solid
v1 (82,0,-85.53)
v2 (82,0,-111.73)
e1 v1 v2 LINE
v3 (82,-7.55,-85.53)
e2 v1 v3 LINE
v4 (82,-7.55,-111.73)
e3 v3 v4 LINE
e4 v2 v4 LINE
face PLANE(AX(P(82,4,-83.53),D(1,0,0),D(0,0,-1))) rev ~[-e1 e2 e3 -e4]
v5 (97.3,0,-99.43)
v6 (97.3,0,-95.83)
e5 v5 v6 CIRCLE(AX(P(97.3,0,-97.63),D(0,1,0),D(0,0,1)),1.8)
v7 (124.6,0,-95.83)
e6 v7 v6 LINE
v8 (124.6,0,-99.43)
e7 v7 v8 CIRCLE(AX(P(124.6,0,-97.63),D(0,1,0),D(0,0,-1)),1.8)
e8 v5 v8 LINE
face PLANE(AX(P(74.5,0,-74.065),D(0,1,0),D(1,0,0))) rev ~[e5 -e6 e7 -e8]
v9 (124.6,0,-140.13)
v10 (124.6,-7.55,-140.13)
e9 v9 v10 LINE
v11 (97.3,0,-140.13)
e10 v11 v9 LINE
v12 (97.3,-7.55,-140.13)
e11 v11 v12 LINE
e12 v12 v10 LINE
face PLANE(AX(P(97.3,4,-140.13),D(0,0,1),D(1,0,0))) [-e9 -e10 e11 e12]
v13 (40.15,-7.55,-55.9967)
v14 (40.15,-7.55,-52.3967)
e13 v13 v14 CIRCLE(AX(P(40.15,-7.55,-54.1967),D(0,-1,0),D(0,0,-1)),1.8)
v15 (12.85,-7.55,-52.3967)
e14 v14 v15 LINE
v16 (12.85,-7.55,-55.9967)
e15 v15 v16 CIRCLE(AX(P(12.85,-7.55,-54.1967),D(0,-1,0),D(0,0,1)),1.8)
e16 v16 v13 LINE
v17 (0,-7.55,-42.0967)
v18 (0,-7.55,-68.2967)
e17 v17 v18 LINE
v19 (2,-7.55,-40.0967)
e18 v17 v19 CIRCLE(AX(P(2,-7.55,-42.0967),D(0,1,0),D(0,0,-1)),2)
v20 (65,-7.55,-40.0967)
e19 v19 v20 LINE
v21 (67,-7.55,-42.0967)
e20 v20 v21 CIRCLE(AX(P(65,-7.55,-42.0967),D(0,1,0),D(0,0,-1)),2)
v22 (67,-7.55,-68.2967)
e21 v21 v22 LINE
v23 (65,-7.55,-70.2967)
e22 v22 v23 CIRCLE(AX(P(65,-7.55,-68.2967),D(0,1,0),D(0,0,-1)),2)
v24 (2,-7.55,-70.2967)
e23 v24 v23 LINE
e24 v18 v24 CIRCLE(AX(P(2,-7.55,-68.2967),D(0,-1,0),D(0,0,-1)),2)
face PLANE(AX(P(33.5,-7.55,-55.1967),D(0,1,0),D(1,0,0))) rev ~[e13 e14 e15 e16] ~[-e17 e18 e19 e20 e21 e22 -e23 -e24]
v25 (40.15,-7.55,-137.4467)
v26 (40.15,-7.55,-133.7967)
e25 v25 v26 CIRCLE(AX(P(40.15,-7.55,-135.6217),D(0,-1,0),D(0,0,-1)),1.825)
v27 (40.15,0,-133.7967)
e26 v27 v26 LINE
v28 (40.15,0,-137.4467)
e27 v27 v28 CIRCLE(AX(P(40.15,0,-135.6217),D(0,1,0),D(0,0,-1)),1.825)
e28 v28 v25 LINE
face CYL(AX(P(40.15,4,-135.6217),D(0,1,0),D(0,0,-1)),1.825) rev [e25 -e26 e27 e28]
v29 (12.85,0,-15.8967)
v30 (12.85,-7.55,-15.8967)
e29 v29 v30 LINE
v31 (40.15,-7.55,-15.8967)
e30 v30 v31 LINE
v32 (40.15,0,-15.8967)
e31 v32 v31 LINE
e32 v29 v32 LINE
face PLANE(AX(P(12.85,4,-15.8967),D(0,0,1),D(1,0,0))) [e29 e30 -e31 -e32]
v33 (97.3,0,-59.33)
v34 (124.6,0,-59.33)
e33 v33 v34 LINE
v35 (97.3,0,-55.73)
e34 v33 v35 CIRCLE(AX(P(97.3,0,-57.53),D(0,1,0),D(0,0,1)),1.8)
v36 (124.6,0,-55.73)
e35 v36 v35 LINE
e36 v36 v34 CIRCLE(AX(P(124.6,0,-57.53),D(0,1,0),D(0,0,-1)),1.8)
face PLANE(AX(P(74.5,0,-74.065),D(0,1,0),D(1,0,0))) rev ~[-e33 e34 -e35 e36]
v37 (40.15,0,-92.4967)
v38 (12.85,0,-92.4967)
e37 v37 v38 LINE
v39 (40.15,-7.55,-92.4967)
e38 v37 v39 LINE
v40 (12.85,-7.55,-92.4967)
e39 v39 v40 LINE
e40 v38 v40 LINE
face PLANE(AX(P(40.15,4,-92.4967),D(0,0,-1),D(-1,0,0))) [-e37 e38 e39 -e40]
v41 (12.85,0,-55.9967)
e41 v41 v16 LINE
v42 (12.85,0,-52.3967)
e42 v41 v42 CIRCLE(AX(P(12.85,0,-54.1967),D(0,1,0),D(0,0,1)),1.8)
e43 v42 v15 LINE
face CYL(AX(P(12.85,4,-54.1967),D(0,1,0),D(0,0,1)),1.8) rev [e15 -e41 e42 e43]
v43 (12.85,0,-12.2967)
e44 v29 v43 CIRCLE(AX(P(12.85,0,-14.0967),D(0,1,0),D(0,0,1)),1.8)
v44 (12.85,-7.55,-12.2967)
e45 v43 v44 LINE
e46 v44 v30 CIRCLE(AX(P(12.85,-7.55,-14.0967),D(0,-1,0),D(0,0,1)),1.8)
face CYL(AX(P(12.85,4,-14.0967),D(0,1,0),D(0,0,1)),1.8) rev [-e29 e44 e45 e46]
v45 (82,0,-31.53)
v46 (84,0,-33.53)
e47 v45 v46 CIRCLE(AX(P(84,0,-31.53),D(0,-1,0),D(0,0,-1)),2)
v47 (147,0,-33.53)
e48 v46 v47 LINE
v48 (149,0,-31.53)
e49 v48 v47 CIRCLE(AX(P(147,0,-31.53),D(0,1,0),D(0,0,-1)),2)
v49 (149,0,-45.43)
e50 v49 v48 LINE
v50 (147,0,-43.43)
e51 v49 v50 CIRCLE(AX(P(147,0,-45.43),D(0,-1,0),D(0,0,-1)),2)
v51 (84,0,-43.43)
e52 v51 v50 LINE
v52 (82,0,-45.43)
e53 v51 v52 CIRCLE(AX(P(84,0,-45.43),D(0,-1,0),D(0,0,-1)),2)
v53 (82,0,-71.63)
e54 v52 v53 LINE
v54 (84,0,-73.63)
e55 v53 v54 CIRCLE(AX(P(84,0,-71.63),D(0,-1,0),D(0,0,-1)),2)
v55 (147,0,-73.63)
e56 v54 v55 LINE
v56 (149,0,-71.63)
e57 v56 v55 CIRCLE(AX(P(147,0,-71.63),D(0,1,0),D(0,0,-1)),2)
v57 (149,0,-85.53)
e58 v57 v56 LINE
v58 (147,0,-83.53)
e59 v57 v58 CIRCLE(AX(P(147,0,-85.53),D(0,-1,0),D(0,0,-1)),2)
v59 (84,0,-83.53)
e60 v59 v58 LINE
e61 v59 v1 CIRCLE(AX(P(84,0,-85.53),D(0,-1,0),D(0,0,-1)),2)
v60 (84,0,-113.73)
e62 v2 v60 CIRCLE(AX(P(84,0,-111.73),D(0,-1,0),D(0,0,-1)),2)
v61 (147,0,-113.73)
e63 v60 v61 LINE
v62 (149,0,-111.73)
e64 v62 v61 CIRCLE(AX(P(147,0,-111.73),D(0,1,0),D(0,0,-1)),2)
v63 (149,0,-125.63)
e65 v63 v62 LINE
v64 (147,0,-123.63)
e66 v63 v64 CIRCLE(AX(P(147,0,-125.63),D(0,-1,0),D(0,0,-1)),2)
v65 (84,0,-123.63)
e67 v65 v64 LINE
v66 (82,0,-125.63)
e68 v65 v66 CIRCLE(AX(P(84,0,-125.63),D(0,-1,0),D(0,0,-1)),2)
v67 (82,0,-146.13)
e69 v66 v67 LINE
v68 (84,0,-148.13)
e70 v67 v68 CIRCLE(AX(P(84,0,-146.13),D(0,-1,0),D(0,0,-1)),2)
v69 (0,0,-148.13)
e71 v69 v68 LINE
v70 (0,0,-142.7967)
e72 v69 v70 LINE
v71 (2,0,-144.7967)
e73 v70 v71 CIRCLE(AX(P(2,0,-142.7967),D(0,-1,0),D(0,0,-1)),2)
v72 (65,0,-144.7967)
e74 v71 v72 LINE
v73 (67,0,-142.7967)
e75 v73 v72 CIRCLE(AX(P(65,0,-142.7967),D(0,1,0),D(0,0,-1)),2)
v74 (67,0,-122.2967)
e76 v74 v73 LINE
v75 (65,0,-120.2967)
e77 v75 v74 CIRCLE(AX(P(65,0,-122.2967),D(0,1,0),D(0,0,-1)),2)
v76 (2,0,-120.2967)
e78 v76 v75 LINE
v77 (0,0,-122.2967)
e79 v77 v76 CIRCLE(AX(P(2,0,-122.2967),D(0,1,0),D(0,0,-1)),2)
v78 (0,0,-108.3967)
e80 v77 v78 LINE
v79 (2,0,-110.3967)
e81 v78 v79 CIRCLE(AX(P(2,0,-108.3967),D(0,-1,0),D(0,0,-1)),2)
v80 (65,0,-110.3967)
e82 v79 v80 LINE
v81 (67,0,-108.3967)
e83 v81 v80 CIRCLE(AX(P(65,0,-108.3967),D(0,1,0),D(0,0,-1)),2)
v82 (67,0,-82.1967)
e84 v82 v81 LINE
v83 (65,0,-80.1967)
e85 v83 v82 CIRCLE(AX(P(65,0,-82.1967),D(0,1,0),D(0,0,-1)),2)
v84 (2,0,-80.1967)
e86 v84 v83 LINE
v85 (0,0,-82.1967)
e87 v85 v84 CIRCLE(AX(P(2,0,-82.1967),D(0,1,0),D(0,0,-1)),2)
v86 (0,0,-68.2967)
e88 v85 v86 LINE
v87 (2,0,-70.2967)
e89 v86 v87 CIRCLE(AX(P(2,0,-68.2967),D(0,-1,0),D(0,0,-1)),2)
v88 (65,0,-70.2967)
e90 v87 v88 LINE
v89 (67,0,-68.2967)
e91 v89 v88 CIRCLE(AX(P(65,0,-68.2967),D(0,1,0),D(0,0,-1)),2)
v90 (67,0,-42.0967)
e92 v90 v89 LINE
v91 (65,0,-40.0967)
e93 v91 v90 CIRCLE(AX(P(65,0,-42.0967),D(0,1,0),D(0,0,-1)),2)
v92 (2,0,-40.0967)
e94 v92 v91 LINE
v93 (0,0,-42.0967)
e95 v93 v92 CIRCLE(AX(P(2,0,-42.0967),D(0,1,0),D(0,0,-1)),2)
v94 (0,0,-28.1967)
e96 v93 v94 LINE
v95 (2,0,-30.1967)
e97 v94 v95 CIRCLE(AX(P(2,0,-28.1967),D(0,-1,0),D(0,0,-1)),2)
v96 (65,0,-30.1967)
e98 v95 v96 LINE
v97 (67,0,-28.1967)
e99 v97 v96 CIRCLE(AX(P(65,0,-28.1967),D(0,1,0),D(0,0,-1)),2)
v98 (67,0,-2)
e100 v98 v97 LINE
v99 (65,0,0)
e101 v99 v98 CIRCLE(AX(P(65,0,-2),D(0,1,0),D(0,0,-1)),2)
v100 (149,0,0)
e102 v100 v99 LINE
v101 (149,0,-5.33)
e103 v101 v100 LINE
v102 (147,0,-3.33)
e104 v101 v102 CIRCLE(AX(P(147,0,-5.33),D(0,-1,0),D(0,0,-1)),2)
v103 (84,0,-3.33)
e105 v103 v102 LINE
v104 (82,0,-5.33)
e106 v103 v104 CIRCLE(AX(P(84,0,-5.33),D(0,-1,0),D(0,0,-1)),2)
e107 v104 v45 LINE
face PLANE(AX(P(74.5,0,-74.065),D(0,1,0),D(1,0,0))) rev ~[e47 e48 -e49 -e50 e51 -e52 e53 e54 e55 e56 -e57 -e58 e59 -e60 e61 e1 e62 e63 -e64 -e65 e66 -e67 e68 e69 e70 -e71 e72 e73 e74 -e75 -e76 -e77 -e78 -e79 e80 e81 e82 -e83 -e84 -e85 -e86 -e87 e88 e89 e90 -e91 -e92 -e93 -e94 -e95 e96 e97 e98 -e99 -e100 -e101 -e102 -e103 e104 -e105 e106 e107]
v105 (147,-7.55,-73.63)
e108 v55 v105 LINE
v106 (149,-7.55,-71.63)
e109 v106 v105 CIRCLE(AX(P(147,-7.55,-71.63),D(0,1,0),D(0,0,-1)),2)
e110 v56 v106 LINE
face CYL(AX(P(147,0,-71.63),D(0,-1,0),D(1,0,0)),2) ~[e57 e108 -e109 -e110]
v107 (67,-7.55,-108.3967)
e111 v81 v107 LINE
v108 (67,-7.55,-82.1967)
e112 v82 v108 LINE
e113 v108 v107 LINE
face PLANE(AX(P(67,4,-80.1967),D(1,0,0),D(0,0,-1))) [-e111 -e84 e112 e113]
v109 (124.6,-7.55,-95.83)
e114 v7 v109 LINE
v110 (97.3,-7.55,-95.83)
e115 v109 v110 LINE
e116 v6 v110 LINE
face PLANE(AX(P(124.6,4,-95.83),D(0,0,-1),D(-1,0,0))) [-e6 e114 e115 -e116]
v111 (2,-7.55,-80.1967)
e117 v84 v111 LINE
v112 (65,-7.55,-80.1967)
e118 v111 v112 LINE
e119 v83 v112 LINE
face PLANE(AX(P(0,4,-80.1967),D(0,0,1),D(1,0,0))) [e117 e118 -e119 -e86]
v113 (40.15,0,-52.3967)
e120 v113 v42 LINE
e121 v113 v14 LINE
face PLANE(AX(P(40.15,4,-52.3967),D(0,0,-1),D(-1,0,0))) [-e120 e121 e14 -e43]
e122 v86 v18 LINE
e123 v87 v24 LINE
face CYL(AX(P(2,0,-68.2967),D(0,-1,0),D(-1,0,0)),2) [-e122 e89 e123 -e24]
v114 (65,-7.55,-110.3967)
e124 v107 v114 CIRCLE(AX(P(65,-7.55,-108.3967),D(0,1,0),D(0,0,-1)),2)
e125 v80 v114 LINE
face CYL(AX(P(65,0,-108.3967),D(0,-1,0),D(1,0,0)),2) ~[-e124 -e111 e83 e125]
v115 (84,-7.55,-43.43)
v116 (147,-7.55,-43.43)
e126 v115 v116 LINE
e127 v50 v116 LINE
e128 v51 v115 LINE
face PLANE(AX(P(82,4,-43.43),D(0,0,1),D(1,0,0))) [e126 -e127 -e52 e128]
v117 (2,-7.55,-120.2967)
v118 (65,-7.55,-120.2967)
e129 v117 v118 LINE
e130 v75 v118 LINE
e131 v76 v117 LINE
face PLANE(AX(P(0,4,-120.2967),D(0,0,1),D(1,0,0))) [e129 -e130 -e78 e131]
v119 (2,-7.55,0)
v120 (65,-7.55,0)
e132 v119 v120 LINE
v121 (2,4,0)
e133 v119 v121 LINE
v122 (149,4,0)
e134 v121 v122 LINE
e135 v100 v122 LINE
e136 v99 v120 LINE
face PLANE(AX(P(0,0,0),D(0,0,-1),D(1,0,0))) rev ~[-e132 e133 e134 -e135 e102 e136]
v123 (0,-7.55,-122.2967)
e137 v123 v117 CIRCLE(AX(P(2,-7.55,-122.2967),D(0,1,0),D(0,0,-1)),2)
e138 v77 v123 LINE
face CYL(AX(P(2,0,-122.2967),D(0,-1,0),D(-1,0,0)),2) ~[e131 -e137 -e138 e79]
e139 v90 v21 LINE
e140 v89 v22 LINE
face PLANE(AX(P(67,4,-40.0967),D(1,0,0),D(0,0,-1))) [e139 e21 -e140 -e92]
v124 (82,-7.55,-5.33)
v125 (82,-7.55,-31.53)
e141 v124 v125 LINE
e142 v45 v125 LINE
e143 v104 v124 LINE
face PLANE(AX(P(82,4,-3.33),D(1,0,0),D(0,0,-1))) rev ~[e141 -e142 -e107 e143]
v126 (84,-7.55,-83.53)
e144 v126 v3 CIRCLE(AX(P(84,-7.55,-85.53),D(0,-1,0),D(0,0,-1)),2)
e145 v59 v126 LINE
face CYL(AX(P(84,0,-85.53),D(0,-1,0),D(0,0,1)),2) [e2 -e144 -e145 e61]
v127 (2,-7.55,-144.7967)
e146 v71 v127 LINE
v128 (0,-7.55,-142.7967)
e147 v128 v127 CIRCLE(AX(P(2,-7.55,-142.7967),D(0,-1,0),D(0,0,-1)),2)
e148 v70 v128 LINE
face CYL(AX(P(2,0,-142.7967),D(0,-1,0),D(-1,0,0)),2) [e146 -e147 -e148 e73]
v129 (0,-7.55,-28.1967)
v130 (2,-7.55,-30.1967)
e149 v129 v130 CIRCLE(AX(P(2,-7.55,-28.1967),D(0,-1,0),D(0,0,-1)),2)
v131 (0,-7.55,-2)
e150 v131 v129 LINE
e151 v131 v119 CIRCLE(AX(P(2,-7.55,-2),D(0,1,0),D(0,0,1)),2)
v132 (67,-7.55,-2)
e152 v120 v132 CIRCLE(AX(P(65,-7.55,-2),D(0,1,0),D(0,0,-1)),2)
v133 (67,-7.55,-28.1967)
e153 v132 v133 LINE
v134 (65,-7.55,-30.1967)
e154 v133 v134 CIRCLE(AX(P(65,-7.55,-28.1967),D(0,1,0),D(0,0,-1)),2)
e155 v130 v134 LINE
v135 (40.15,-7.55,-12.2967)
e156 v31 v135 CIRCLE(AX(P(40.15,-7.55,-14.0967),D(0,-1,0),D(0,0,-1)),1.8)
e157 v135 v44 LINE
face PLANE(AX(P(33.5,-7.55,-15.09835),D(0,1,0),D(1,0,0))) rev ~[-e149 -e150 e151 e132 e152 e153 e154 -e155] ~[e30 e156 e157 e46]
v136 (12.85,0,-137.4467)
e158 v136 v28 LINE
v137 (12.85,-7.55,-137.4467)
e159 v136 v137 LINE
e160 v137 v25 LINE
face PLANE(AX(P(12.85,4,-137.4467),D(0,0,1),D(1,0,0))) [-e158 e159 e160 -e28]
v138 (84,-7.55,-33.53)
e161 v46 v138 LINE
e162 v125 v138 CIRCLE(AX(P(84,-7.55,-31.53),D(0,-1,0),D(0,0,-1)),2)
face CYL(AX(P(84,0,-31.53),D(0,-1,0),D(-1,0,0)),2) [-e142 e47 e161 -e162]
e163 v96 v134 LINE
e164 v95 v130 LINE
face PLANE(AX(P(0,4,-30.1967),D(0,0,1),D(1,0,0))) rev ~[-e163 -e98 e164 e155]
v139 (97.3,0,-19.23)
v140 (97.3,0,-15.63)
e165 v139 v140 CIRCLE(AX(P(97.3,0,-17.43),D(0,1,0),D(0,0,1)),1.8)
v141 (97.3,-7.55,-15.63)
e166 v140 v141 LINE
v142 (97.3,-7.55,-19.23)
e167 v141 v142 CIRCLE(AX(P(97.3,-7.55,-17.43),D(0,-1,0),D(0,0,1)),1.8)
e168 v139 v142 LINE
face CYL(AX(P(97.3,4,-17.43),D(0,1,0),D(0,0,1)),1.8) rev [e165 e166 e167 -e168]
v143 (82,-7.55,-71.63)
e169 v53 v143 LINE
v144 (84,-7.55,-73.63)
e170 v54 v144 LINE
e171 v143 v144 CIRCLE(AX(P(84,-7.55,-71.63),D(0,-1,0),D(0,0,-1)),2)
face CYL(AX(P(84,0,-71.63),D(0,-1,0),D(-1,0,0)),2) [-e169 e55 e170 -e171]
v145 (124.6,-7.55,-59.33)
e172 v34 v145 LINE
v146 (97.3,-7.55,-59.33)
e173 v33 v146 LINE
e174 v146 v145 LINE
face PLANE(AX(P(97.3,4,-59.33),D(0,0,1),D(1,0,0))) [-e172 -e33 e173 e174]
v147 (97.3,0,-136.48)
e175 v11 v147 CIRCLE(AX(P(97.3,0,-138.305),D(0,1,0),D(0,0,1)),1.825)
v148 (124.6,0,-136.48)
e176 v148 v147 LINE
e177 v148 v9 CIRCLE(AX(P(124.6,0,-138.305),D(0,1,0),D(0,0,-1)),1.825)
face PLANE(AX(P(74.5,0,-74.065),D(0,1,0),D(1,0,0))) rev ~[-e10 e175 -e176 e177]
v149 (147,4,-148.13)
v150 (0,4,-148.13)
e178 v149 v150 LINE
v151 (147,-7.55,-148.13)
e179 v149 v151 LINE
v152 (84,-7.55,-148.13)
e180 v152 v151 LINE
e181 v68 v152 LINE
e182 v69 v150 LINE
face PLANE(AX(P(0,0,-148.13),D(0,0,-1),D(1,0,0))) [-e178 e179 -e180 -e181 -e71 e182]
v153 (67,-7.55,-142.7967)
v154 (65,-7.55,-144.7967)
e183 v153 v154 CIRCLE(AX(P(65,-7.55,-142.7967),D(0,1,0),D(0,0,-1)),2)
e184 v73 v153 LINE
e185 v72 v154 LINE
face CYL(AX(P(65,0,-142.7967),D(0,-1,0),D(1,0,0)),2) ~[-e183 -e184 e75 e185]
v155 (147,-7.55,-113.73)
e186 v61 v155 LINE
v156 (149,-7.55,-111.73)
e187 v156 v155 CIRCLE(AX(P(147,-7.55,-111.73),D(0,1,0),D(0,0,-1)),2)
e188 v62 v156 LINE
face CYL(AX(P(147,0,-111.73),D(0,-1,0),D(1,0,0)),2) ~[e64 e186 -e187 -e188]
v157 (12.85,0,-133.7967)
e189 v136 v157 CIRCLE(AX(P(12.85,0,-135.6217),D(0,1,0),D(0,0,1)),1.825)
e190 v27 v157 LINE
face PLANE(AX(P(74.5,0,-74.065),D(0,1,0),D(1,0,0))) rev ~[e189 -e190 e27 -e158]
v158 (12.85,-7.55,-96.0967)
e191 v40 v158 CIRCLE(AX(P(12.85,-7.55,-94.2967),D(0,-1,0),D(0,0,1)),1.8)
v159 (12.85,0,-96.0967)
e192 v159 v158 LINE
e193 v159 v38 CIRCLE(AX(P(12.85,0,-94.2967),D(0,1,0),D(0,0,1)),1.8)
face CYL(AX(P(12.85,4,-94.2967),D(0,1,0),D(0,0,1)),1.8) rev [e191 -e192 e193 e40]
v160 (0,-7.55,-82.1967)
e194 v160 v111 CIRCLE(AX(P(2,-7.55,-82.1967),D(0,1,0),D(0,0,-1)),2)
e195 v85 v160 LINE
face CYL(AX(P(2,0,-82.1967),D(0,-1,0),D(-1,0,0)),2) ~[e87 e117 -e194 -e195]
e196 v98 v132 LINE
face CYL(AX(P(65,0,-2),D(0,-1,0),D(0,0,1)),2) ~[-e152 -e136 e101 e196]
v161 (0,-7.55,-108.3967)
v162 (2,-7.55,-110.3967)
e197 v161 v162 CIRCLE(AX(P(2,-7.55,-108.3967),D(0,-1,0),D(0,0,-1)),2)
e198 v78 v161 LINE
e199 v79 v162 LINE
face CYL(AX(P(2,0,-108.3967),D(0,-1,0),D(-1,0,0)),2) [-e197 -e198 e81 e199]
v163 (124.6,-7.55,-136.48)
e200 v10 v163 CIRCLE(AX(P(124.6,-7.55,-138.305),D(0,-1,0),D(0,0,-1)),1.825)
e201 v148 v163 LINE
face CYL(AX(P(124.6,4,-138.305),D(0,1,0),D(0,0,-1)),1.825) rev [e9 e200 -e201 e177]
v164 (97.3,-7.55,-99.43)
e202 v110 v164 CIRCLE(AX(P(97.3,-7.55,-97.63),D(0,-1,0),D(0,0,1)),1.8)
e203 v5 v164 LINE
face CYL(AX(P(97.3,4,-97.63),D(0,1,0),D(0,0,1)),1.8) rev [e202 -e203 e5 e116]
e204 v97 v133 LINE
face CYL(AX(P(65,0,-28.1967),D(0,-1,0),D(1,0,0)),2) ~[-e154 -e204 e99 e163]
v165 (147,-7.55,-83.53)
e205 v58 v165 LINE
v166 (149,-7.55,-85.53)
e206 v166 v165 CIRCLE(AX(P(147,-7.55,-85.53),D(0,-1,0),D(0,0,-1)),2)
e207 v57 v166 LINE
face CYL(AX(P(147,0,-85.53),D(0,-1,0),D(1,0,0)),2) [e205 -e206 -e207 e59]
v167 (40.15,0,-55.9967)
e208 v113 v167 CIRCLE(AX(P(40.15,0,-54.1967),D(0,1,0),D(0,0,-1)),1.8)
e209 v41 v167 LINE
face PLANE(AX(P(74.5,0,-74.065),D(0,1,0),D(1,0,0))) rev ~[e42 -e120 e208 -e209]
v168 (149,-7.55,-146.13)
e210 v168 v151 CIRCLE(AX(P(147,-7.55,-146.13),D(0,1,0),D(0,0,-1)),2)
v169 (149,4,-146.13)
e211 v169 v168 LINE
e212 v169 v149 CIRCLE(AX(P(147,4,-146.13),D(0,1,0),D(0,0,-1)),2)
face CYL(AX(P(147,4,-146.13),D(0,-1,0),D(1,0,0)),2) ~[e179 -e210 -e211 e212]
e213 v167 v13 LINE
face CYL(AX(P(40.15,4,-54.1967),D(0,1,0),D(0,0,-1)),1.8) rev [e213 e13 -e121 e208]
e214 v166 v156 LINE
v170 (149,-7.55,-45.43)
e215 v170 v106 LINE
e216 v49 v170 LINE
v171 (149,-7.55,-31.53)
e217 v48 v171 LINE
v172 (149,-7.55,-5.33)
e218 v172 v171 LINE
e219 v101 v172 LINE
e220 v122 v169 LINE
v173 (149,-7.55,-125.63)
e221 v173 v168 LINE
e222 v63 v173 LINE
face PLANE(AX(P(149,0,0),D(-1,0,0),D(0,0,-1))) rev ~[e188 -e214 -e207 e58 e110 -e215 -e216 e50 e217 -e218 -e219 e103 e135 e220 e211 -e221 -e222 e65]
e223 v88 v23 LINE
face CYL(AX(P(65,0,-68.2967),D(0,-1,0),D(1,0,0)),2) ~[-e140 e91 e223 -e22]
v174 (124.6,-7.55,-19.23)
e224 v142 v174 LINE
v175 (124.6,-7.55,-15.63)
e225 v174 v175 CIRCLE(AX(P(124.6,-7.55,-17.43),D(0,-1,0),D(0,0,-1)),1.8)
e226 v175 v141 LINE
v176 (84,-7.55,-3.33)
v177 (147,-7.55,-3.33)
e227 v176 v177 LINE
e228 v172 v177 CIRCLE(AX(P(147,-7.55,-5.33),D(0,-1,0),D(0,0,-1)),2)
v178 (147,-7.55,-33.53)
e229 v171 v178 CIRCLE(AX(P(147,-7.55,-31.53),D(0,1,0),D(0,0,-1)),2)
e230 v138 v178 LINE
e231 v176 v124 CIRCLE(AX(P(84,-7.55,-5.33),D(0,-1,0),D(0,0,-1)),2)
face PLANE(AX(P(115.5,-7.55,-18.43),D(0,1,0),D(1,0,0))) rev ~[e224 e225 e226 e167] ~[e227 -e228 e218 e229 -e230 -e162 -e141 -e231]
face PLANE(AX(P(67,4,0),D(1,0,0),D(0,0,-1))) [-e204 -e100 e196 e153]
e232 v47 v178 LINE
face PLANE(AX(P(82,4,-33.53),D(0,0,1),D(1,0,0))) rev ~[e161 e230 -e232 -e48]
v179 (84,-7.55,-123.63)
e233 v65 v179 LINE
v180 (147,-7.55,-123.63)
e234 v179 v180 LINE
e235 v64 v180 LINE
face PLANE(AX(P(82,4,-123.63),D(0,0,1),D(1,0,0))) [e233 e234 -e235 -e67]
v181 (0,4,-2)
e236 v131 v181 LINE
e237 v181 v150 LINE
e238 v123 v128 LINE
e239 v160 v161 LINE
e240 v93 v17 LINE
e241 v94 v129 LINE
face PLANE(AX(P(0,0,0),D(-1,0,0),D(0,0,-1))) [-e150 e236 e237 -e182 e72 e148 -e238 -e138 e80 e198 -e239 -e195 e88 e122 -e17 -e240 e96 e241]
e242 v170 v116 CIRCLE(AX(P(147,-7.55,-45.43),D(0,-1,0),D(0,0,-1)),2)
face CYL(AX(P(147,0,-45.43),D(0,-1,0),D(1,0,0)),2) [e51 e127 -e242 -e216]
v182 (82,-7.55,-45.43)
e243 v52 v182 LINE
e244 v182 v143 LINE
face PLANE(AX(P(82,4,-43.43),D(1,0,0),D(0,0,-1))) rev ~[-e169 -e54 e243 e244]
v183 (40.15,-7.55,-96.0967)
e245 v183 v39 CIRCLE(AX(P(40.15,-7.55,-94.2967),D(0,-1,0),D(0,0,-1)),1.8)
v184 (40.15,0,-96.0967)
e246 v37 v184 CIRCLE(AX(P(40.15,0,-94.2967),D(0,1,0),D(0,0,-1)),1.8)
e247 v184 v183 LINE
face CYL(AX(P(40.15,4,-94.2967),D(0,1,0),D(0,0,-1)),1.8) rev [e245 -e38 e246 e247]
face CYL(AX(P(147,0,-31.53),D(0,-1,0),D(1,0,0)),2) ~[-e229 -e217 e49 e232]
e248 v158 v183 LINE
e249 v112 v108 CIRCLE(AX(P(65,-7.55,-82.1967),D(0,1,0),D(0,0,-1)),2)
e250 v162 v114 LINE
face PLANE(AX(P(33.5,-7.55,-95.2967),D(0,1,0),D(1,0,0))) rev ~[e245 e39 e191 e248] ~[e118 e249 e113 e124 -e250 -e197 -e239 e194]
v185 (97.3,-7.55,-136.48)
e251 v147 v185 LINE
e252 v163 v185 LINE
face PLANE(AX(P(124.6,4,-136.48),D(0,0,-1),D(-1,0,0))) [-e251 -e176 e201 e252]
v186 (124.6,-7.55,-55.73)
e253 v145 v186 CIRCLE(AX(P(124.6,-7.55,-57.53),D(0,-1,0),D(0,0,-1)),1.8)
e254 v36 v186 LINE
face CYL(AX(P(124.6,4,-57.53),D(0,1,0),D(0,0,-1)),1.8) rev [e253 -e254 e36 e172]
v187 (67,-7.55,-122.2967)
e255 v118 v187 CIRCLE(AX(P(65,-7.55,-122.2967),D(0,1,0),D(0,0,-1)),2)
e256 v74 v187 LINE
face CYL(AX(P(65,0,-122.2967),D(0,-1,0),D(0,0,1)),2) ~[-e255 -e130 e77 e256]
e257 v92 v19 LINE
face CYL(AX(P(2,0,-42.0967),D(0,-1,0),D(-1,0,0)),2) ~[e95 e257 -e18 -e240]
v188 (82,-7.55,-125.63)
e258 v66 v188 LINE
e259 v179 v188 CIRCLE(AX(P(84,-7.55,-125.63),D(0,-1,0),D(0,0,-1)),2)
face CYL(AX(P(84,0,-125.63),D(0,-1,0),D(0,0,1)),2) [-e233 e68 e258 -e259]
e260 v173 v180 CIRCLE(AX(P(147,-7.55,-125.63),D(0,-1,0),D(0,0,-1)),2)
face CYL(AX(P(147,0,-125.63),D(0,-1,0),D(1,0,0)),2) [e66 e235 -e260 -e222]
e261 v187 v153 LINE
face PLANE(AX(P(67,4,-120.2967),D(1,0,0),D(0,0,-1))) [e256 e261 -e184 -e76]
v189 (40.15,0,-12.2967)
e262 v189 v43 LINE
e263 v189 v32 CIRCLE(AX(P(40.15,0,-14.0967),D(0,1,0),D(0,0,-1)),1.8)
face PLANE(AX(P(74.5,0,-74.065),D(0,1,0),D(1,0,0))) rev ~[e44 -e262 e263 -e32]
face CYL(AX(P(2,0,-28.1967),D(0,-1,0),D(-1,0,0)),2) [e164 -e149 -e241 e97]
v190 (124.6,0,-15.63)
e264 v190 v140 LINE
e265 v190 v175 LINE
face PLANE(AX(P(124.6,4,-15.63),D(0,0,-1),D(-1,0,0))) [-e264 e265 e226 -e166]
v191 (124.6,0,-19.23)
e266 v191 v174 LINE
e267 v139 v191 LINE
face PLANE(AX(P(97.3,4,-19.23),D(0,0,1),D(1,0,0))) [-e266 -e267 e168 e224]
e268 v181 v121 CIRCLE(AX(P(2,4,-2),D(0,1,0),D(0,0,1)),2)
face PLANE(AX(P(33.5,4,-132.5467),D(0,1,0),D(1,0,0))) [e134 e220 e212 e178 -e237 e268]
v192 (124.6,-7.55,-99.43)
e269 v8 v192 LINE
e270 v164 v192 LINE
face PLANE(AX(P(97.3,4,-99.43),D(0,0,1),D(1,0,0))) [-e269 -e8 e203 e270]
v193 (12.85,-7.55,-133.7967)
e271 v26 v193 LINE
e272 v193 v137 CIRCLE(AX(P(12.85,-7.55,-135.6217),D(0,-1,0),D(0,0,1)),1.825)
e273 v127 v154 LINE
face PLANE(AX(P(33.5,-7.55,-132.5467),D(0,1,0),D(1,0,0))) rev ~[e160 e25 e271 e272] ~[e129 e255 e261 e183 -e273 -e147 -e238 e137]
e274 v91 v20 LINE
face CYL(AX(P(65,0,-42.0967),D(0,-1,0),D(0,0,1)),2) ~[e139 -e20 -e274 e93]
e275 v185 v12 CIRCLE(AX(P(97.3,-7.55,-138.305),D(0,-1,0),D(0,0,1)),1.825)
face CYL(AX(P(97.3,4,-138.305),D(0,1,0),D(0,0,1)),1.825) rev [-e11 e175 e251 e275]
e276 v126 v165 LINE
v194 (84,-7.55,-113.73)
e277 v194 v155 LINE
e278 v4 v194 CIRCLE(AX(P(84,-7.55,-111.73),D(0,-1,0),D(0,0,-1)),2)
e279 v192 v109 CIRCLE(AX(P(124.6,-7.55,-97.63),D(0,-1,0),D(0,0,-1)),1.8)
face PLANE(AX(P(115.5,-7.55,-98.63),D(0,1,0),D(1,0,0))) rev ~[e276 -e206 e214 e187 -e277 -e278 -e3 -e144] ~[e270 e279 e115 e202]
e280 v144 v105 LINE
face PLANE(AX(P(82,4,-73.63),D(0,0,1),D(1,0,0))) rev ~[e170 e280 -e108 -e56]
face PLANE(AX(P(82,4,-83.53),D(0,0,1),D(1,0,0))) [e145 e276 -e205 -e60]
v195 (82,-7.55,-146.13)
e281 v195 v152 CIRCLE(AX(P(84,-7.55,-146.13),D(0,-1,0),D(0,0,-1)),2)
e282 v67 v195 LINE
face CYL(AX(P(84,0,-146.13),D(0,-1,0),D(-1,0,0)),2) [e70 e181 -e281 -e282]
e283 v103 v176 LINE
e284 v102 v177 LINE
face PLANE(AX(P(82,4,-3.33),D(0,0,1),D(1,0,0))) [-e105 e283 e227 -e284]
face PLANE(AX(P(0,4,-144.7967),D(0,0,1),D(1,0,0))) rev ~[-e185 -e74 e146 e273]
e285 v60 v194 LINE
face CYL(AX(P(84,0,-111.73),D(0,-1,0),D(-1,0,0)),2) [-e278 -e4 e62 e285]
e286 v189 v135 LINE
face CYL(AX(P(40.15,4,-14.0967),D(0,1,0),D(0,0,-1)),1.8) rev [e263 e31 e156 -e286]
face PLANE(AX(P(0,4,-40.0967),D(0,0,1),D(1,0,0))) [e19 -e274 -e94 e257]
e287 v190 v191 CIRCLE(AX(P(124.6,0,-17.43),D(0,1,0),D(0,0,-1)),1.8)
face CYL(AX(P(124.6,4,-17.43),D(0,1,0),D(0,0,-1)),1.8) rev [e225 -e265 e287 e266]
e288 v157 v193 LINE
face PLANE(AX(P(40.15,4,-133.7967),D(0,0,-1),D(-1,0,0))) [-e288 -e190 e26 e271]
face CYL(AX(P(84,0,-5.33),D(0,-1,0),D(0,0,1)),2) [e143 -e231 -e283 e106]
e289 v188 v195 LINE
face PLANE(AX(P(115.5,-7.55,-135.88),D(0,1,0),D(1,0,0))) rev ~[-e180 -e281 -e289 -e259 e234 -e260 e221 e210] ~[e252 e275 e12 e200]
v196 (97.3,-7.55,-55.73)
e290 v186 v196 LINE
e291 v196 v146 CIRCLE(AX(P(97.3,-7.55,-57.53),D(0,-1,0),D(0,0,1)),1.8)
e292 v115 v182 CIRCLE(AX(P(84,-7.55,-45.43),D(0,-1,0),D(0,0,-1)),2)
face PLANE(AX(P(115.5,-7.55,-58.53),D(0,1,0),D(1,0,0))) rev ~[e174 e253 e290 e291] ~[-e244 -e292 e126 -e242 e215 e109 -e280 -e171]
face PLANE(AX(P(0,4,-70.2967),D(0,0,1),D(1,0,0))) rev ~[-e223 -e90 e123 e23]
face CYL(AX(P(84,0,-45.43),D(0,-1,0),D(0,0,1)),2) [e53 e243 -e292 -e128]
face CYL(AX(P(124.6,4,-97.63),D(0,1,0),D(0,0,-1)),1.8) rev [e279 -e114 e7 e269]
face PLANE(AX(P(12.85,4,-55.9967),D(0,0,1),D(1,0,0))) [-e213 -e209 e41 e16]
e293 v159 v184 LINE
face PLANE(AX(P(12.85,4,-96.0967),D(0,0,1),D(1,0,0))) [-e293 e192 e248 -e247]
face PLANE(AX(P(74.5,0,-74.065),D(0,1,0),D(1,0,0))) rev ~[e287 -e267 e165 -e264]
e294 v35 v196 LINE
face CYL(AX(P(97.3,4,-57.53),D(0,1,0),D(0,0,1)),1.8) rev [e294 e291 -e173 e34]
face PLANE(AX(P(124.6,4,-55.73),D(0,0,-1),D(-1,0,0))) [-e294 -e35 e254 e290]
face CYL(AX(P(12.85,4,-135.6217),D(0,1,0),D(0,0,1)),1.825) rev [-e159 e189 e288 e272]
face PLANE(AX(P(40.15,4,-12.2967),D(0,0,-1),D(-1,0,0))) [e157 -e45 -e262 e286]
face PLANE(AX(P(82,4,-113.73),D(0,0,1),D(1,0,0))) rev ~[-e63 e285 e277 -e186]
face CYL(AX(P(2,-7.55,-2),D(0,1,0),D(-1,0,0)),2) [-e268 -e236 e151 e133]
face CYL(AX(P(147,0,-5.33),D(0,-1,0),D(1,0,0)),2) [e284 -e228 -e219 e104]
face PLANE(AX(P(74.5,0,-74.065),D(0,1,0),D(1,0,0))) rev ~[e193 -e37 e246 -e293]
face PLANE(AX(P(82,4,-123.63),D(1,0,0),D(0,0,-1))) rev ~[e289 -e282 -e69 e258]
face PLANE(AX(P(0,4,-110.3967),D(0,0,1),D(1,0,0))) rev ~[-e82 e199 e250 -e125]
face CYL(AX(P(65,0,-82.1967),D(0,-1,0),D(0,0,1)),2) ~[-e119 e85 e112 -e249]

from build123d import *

# Parameters (mm, degrees)
SKETCH2_W           = 149
SKETCH2_H           = 148.13
BOSS_EXTRUDE1_DEPTH = 4
SKETCH3_W           = 67
SKETCH3_H           = 24.5
SKETCH3_H_2         = 30.2
SKETCH3_H_3         = 30.1967
BOSS_EXTRUDE3_DEPTH = 11.55
FILLET1_R           = 2


with BuildPart() as part:
    # Sketch2 → Boss-Extrude1 (new body)
    with BuildSketch(Plane(origin=(0, 0, 0), x_dir=(1, 0, 0), z_dir=(0, 1, 0))):
        with Locations((74.5, 74.065)):
            Rectangle(SKETCH2_W, SKETCH2_H)
    extrude(amount=BOSS_EXTRUDE1_DEPTH)

    # Sketch3 → Boss-Extrude3 (add)
    # profile 1 of 8: a face of its own
    with BuildSketch(Plane(origin=(0, 4, 0), x_dir=(1, 0, 0), z_dir=(0, 1, 0))):
        with Locations((33.5, 132.5467)):
            Rectangle(SKETCH3_W, SKETCH3_H)
        with BuildLine():
            ThreePointArc((12.85, 133.7967), (11.025, 135.6217), (12.85, 137.4467))
            Line((12.85, 137.4467), (40.15, 137.4467))
            ThreePointArc((40.15, 137.4467), (41.975, 135.6217), (40.15, 133.7967))
            Line((40.15, 133.7967), (12.85, 133.7967))
        make_face(mode=Mode.SUBTRACT)
    # profile 2 of 8: a face of its own
    with BuildSketch(Plane(origin=(0, 4, 0), x_dir=(1, 0, 0), z_dir=(0, 1, 0))):
        with Locations((115.5, 135.88)):
            Rectangle(SKETCH3_W, SKETCH3_H)
        with BuildLine():
            ThreePointArc((97.3, 136.48), (95.475, 138.305), (97.3, 140.13))
            Line((97.3, 140.13), (124.6, 140.13))
            ThreePointArc((124.6, 140.13), (126.425, 138.305), (124.6, 136.48))
            Line((124.6, 136.48), (97.3, 136.48))
        make_face(mode=Mode.SUBTRACT)
    # profile 3 of 8: a face of its own
    with BuildSketch(Plane(origin=(0, 4, 0), x_dir=(1, 0, 0), z_dir=(0, 1, 0))):
        with Locations((33.5, 95.2967)):
            Rectangle(SKETCH3_W, SKETCH3_H_2)
        with BuildLine():
            ThreePointArc((12.85, 92.4967), (11.05, 94.2967), (12.85, 96.0967))
            Line((12.85, 96.0967), (40.15, 96.0967))
            ThreePointArc((40.15, 96.0967), (41.95, 94.2967), (40.15, 92.4967))
            Line((40.15, 92.4967), (12.85, 92.4967))
        make_face(mode=Mode.SUBTRACT)
    # profile 4 of 8: a face of its own
    with BuildSketch(Plane(origin=(0, 4, 0), x_dir=(1, 0, 0), z_dir=(0, 1, 0))):
        with Locations((115.5, 98.63)):
            Rectangle(SKETCH3_W, SKETCH3_H_2)
        with BuildLine():
            ThreePointArc((97.3, 95.83), (95.5, 97.63), (97.3, 99.43))
            Line((97.3, 99.43), (124.6, 99.43))
            ThreePointArc((124.6, 99.43), (126.4, 97.63), (124.6, 95.83))
            Line((124.6, 95.83), (97.3, 95.83))
        make_face(mode=Mode.SUBTRACT)
    # profile 5 of 8: a face of its own
    with BuildSketch(Plane(origin=(0, 4, 0), x_dir=(1, 0, 0), z_dir=(0, 1, 0))):
        with Locations((33.5, 55.1967)):
            Rectangle(SKETCH3_W, SKETCH3_H_2)
        with BuildLine():
            ThreePointArc((12.85, 52.3967), (11.05, 54.1967), (12.85, 55.9967))
            Line((12.85, 55.9967), (40.15, 55.9967))
            ThreePointArc((40.15, 55.9967), (41.95, 54.1967), (40.15, 52.3967))
            Line((40.15, 52.3967), (12.85, 52.3967))
        make_face(mode=Mode.SUBTRACT)
    # profile 6 of 8: a face of its own
    with BuildSketch(Plane(origin=(0, 4, 0), x_dir=(1, 0, 0), z_dir=(0, 1, 0))):
        with Locations((115.5, 58.53)):
            Rectangle(SKETCH3_W, SKETCH3_H_2)
        with BuildLine():
            ThreePointArc((97.3, 55.73), (95.5, 57.53), (97.3, 59.33))
            Line((97.3, 59.33), (124.6, 59.33))
            ThreePointArc((124.6, 59.33), (126.4, 57.53), (124.6, 55.73))
            Line((124.6, 55.73), (97.3, 55.73))
        make_face(mode=Mode.SUBTRACT)
    # profile 7 of 8: a face of its own
    with BuildSketch(Plane(origin=(0, 4, 0), x_dir=(1, 0, 0), z_dir=(0, 1, 0))):
        with Locations((33.5, 15.09835)):
            Rectangle(SKETCH3_W, SKETCH3_H_3)
        with BuildLine():
            ThreePointArc((12.85, 12.2967), (11.05, 14.0967), (12.85, 15.8967))
            Line((12.85, 15.8967), (40.15, 15.8967))
            ThreePointArc((40.15, 15.8967), (41.95, 14.0967), (40.15, 12.2967))
            Line((40.15, 12.2967), (12.85, 12.2967))
        make_face(mode=Mode.SUBTRACT)
    # profile 8 of 8: a face of its own
    with BuildSketch(Plane(origin=(0, 4, 0), x_dir=(1, 0, 0), z_dir=(0, 1, 0))):
        with Locations((115.5, 18.43)):
            Rectangle(SKETCH3_W, SKETCH3_H_2)
        with BuildLine():
            ThreePointArc((97.3, 15.63), (95.5, 17.43), (97.3, 19.23))
            Line((97.3, 19.23), (124.6, 19.23))
            ThreePointArc((124.6, 19.23), (126.4, 17.43), (124.6, 15.63))
            Line((124.6, 15.63), (97.3, 15.63))
        make_face(mode=Mode.SUBTRACT)
    extrude(amount=-BOSS_EXTRUDE3_DEPTH)

    # Fillet1
    fillet1_edges = [part.edges().sort_by_distance(p)[0] for p in [
        (67, -3.775, -110.3967),
        (67, -3.775, -80.1967),
        (0, -3.775, -80.1967),
        (0, -3.775, -110.3967),
        (82, -3.775, -113.73),
        (149, -3.775, -113.73),
        (149, -3.775, -83.53),
        (82, -3.775, -83.53),
        (67, -3.775, -70.2967),
        (67, -3.775, -40.0967),
        (0, -3.775, -40.0967),
        (0, -3.775, -70.2967),
        (82, -3.775, -73.63),
        (149, -3.775, -73.63),
        (149, -3.775, -43.43),
        (82, -3.775, -43.43),
        (67, -3.775, -30.1967),
        (67, -3.775, 0),
        (0, -3.775, -30.1967),
        (67, -3.775, -144.7967),
        (67, -3.775, -120.2967),
        (0, -3.775, -120.2967),
        (0, -3.775, -144.7967),
        (82, -3.775, -33.53),
        (149, -3.775, -33.53),
        (149, -3.775, -3.33),
        (82, -3.775, -3.33),
        (82, -3.775, -148.13),
        (149, -3.775, -123.63),
        (82, -3.775, -123.63),
        (149, -1.775, -148.13),
        (0, -1.775, 0),
    ]]
    fillet(fillet1_edges, radius=FILLET1_R)


solid = part.part
